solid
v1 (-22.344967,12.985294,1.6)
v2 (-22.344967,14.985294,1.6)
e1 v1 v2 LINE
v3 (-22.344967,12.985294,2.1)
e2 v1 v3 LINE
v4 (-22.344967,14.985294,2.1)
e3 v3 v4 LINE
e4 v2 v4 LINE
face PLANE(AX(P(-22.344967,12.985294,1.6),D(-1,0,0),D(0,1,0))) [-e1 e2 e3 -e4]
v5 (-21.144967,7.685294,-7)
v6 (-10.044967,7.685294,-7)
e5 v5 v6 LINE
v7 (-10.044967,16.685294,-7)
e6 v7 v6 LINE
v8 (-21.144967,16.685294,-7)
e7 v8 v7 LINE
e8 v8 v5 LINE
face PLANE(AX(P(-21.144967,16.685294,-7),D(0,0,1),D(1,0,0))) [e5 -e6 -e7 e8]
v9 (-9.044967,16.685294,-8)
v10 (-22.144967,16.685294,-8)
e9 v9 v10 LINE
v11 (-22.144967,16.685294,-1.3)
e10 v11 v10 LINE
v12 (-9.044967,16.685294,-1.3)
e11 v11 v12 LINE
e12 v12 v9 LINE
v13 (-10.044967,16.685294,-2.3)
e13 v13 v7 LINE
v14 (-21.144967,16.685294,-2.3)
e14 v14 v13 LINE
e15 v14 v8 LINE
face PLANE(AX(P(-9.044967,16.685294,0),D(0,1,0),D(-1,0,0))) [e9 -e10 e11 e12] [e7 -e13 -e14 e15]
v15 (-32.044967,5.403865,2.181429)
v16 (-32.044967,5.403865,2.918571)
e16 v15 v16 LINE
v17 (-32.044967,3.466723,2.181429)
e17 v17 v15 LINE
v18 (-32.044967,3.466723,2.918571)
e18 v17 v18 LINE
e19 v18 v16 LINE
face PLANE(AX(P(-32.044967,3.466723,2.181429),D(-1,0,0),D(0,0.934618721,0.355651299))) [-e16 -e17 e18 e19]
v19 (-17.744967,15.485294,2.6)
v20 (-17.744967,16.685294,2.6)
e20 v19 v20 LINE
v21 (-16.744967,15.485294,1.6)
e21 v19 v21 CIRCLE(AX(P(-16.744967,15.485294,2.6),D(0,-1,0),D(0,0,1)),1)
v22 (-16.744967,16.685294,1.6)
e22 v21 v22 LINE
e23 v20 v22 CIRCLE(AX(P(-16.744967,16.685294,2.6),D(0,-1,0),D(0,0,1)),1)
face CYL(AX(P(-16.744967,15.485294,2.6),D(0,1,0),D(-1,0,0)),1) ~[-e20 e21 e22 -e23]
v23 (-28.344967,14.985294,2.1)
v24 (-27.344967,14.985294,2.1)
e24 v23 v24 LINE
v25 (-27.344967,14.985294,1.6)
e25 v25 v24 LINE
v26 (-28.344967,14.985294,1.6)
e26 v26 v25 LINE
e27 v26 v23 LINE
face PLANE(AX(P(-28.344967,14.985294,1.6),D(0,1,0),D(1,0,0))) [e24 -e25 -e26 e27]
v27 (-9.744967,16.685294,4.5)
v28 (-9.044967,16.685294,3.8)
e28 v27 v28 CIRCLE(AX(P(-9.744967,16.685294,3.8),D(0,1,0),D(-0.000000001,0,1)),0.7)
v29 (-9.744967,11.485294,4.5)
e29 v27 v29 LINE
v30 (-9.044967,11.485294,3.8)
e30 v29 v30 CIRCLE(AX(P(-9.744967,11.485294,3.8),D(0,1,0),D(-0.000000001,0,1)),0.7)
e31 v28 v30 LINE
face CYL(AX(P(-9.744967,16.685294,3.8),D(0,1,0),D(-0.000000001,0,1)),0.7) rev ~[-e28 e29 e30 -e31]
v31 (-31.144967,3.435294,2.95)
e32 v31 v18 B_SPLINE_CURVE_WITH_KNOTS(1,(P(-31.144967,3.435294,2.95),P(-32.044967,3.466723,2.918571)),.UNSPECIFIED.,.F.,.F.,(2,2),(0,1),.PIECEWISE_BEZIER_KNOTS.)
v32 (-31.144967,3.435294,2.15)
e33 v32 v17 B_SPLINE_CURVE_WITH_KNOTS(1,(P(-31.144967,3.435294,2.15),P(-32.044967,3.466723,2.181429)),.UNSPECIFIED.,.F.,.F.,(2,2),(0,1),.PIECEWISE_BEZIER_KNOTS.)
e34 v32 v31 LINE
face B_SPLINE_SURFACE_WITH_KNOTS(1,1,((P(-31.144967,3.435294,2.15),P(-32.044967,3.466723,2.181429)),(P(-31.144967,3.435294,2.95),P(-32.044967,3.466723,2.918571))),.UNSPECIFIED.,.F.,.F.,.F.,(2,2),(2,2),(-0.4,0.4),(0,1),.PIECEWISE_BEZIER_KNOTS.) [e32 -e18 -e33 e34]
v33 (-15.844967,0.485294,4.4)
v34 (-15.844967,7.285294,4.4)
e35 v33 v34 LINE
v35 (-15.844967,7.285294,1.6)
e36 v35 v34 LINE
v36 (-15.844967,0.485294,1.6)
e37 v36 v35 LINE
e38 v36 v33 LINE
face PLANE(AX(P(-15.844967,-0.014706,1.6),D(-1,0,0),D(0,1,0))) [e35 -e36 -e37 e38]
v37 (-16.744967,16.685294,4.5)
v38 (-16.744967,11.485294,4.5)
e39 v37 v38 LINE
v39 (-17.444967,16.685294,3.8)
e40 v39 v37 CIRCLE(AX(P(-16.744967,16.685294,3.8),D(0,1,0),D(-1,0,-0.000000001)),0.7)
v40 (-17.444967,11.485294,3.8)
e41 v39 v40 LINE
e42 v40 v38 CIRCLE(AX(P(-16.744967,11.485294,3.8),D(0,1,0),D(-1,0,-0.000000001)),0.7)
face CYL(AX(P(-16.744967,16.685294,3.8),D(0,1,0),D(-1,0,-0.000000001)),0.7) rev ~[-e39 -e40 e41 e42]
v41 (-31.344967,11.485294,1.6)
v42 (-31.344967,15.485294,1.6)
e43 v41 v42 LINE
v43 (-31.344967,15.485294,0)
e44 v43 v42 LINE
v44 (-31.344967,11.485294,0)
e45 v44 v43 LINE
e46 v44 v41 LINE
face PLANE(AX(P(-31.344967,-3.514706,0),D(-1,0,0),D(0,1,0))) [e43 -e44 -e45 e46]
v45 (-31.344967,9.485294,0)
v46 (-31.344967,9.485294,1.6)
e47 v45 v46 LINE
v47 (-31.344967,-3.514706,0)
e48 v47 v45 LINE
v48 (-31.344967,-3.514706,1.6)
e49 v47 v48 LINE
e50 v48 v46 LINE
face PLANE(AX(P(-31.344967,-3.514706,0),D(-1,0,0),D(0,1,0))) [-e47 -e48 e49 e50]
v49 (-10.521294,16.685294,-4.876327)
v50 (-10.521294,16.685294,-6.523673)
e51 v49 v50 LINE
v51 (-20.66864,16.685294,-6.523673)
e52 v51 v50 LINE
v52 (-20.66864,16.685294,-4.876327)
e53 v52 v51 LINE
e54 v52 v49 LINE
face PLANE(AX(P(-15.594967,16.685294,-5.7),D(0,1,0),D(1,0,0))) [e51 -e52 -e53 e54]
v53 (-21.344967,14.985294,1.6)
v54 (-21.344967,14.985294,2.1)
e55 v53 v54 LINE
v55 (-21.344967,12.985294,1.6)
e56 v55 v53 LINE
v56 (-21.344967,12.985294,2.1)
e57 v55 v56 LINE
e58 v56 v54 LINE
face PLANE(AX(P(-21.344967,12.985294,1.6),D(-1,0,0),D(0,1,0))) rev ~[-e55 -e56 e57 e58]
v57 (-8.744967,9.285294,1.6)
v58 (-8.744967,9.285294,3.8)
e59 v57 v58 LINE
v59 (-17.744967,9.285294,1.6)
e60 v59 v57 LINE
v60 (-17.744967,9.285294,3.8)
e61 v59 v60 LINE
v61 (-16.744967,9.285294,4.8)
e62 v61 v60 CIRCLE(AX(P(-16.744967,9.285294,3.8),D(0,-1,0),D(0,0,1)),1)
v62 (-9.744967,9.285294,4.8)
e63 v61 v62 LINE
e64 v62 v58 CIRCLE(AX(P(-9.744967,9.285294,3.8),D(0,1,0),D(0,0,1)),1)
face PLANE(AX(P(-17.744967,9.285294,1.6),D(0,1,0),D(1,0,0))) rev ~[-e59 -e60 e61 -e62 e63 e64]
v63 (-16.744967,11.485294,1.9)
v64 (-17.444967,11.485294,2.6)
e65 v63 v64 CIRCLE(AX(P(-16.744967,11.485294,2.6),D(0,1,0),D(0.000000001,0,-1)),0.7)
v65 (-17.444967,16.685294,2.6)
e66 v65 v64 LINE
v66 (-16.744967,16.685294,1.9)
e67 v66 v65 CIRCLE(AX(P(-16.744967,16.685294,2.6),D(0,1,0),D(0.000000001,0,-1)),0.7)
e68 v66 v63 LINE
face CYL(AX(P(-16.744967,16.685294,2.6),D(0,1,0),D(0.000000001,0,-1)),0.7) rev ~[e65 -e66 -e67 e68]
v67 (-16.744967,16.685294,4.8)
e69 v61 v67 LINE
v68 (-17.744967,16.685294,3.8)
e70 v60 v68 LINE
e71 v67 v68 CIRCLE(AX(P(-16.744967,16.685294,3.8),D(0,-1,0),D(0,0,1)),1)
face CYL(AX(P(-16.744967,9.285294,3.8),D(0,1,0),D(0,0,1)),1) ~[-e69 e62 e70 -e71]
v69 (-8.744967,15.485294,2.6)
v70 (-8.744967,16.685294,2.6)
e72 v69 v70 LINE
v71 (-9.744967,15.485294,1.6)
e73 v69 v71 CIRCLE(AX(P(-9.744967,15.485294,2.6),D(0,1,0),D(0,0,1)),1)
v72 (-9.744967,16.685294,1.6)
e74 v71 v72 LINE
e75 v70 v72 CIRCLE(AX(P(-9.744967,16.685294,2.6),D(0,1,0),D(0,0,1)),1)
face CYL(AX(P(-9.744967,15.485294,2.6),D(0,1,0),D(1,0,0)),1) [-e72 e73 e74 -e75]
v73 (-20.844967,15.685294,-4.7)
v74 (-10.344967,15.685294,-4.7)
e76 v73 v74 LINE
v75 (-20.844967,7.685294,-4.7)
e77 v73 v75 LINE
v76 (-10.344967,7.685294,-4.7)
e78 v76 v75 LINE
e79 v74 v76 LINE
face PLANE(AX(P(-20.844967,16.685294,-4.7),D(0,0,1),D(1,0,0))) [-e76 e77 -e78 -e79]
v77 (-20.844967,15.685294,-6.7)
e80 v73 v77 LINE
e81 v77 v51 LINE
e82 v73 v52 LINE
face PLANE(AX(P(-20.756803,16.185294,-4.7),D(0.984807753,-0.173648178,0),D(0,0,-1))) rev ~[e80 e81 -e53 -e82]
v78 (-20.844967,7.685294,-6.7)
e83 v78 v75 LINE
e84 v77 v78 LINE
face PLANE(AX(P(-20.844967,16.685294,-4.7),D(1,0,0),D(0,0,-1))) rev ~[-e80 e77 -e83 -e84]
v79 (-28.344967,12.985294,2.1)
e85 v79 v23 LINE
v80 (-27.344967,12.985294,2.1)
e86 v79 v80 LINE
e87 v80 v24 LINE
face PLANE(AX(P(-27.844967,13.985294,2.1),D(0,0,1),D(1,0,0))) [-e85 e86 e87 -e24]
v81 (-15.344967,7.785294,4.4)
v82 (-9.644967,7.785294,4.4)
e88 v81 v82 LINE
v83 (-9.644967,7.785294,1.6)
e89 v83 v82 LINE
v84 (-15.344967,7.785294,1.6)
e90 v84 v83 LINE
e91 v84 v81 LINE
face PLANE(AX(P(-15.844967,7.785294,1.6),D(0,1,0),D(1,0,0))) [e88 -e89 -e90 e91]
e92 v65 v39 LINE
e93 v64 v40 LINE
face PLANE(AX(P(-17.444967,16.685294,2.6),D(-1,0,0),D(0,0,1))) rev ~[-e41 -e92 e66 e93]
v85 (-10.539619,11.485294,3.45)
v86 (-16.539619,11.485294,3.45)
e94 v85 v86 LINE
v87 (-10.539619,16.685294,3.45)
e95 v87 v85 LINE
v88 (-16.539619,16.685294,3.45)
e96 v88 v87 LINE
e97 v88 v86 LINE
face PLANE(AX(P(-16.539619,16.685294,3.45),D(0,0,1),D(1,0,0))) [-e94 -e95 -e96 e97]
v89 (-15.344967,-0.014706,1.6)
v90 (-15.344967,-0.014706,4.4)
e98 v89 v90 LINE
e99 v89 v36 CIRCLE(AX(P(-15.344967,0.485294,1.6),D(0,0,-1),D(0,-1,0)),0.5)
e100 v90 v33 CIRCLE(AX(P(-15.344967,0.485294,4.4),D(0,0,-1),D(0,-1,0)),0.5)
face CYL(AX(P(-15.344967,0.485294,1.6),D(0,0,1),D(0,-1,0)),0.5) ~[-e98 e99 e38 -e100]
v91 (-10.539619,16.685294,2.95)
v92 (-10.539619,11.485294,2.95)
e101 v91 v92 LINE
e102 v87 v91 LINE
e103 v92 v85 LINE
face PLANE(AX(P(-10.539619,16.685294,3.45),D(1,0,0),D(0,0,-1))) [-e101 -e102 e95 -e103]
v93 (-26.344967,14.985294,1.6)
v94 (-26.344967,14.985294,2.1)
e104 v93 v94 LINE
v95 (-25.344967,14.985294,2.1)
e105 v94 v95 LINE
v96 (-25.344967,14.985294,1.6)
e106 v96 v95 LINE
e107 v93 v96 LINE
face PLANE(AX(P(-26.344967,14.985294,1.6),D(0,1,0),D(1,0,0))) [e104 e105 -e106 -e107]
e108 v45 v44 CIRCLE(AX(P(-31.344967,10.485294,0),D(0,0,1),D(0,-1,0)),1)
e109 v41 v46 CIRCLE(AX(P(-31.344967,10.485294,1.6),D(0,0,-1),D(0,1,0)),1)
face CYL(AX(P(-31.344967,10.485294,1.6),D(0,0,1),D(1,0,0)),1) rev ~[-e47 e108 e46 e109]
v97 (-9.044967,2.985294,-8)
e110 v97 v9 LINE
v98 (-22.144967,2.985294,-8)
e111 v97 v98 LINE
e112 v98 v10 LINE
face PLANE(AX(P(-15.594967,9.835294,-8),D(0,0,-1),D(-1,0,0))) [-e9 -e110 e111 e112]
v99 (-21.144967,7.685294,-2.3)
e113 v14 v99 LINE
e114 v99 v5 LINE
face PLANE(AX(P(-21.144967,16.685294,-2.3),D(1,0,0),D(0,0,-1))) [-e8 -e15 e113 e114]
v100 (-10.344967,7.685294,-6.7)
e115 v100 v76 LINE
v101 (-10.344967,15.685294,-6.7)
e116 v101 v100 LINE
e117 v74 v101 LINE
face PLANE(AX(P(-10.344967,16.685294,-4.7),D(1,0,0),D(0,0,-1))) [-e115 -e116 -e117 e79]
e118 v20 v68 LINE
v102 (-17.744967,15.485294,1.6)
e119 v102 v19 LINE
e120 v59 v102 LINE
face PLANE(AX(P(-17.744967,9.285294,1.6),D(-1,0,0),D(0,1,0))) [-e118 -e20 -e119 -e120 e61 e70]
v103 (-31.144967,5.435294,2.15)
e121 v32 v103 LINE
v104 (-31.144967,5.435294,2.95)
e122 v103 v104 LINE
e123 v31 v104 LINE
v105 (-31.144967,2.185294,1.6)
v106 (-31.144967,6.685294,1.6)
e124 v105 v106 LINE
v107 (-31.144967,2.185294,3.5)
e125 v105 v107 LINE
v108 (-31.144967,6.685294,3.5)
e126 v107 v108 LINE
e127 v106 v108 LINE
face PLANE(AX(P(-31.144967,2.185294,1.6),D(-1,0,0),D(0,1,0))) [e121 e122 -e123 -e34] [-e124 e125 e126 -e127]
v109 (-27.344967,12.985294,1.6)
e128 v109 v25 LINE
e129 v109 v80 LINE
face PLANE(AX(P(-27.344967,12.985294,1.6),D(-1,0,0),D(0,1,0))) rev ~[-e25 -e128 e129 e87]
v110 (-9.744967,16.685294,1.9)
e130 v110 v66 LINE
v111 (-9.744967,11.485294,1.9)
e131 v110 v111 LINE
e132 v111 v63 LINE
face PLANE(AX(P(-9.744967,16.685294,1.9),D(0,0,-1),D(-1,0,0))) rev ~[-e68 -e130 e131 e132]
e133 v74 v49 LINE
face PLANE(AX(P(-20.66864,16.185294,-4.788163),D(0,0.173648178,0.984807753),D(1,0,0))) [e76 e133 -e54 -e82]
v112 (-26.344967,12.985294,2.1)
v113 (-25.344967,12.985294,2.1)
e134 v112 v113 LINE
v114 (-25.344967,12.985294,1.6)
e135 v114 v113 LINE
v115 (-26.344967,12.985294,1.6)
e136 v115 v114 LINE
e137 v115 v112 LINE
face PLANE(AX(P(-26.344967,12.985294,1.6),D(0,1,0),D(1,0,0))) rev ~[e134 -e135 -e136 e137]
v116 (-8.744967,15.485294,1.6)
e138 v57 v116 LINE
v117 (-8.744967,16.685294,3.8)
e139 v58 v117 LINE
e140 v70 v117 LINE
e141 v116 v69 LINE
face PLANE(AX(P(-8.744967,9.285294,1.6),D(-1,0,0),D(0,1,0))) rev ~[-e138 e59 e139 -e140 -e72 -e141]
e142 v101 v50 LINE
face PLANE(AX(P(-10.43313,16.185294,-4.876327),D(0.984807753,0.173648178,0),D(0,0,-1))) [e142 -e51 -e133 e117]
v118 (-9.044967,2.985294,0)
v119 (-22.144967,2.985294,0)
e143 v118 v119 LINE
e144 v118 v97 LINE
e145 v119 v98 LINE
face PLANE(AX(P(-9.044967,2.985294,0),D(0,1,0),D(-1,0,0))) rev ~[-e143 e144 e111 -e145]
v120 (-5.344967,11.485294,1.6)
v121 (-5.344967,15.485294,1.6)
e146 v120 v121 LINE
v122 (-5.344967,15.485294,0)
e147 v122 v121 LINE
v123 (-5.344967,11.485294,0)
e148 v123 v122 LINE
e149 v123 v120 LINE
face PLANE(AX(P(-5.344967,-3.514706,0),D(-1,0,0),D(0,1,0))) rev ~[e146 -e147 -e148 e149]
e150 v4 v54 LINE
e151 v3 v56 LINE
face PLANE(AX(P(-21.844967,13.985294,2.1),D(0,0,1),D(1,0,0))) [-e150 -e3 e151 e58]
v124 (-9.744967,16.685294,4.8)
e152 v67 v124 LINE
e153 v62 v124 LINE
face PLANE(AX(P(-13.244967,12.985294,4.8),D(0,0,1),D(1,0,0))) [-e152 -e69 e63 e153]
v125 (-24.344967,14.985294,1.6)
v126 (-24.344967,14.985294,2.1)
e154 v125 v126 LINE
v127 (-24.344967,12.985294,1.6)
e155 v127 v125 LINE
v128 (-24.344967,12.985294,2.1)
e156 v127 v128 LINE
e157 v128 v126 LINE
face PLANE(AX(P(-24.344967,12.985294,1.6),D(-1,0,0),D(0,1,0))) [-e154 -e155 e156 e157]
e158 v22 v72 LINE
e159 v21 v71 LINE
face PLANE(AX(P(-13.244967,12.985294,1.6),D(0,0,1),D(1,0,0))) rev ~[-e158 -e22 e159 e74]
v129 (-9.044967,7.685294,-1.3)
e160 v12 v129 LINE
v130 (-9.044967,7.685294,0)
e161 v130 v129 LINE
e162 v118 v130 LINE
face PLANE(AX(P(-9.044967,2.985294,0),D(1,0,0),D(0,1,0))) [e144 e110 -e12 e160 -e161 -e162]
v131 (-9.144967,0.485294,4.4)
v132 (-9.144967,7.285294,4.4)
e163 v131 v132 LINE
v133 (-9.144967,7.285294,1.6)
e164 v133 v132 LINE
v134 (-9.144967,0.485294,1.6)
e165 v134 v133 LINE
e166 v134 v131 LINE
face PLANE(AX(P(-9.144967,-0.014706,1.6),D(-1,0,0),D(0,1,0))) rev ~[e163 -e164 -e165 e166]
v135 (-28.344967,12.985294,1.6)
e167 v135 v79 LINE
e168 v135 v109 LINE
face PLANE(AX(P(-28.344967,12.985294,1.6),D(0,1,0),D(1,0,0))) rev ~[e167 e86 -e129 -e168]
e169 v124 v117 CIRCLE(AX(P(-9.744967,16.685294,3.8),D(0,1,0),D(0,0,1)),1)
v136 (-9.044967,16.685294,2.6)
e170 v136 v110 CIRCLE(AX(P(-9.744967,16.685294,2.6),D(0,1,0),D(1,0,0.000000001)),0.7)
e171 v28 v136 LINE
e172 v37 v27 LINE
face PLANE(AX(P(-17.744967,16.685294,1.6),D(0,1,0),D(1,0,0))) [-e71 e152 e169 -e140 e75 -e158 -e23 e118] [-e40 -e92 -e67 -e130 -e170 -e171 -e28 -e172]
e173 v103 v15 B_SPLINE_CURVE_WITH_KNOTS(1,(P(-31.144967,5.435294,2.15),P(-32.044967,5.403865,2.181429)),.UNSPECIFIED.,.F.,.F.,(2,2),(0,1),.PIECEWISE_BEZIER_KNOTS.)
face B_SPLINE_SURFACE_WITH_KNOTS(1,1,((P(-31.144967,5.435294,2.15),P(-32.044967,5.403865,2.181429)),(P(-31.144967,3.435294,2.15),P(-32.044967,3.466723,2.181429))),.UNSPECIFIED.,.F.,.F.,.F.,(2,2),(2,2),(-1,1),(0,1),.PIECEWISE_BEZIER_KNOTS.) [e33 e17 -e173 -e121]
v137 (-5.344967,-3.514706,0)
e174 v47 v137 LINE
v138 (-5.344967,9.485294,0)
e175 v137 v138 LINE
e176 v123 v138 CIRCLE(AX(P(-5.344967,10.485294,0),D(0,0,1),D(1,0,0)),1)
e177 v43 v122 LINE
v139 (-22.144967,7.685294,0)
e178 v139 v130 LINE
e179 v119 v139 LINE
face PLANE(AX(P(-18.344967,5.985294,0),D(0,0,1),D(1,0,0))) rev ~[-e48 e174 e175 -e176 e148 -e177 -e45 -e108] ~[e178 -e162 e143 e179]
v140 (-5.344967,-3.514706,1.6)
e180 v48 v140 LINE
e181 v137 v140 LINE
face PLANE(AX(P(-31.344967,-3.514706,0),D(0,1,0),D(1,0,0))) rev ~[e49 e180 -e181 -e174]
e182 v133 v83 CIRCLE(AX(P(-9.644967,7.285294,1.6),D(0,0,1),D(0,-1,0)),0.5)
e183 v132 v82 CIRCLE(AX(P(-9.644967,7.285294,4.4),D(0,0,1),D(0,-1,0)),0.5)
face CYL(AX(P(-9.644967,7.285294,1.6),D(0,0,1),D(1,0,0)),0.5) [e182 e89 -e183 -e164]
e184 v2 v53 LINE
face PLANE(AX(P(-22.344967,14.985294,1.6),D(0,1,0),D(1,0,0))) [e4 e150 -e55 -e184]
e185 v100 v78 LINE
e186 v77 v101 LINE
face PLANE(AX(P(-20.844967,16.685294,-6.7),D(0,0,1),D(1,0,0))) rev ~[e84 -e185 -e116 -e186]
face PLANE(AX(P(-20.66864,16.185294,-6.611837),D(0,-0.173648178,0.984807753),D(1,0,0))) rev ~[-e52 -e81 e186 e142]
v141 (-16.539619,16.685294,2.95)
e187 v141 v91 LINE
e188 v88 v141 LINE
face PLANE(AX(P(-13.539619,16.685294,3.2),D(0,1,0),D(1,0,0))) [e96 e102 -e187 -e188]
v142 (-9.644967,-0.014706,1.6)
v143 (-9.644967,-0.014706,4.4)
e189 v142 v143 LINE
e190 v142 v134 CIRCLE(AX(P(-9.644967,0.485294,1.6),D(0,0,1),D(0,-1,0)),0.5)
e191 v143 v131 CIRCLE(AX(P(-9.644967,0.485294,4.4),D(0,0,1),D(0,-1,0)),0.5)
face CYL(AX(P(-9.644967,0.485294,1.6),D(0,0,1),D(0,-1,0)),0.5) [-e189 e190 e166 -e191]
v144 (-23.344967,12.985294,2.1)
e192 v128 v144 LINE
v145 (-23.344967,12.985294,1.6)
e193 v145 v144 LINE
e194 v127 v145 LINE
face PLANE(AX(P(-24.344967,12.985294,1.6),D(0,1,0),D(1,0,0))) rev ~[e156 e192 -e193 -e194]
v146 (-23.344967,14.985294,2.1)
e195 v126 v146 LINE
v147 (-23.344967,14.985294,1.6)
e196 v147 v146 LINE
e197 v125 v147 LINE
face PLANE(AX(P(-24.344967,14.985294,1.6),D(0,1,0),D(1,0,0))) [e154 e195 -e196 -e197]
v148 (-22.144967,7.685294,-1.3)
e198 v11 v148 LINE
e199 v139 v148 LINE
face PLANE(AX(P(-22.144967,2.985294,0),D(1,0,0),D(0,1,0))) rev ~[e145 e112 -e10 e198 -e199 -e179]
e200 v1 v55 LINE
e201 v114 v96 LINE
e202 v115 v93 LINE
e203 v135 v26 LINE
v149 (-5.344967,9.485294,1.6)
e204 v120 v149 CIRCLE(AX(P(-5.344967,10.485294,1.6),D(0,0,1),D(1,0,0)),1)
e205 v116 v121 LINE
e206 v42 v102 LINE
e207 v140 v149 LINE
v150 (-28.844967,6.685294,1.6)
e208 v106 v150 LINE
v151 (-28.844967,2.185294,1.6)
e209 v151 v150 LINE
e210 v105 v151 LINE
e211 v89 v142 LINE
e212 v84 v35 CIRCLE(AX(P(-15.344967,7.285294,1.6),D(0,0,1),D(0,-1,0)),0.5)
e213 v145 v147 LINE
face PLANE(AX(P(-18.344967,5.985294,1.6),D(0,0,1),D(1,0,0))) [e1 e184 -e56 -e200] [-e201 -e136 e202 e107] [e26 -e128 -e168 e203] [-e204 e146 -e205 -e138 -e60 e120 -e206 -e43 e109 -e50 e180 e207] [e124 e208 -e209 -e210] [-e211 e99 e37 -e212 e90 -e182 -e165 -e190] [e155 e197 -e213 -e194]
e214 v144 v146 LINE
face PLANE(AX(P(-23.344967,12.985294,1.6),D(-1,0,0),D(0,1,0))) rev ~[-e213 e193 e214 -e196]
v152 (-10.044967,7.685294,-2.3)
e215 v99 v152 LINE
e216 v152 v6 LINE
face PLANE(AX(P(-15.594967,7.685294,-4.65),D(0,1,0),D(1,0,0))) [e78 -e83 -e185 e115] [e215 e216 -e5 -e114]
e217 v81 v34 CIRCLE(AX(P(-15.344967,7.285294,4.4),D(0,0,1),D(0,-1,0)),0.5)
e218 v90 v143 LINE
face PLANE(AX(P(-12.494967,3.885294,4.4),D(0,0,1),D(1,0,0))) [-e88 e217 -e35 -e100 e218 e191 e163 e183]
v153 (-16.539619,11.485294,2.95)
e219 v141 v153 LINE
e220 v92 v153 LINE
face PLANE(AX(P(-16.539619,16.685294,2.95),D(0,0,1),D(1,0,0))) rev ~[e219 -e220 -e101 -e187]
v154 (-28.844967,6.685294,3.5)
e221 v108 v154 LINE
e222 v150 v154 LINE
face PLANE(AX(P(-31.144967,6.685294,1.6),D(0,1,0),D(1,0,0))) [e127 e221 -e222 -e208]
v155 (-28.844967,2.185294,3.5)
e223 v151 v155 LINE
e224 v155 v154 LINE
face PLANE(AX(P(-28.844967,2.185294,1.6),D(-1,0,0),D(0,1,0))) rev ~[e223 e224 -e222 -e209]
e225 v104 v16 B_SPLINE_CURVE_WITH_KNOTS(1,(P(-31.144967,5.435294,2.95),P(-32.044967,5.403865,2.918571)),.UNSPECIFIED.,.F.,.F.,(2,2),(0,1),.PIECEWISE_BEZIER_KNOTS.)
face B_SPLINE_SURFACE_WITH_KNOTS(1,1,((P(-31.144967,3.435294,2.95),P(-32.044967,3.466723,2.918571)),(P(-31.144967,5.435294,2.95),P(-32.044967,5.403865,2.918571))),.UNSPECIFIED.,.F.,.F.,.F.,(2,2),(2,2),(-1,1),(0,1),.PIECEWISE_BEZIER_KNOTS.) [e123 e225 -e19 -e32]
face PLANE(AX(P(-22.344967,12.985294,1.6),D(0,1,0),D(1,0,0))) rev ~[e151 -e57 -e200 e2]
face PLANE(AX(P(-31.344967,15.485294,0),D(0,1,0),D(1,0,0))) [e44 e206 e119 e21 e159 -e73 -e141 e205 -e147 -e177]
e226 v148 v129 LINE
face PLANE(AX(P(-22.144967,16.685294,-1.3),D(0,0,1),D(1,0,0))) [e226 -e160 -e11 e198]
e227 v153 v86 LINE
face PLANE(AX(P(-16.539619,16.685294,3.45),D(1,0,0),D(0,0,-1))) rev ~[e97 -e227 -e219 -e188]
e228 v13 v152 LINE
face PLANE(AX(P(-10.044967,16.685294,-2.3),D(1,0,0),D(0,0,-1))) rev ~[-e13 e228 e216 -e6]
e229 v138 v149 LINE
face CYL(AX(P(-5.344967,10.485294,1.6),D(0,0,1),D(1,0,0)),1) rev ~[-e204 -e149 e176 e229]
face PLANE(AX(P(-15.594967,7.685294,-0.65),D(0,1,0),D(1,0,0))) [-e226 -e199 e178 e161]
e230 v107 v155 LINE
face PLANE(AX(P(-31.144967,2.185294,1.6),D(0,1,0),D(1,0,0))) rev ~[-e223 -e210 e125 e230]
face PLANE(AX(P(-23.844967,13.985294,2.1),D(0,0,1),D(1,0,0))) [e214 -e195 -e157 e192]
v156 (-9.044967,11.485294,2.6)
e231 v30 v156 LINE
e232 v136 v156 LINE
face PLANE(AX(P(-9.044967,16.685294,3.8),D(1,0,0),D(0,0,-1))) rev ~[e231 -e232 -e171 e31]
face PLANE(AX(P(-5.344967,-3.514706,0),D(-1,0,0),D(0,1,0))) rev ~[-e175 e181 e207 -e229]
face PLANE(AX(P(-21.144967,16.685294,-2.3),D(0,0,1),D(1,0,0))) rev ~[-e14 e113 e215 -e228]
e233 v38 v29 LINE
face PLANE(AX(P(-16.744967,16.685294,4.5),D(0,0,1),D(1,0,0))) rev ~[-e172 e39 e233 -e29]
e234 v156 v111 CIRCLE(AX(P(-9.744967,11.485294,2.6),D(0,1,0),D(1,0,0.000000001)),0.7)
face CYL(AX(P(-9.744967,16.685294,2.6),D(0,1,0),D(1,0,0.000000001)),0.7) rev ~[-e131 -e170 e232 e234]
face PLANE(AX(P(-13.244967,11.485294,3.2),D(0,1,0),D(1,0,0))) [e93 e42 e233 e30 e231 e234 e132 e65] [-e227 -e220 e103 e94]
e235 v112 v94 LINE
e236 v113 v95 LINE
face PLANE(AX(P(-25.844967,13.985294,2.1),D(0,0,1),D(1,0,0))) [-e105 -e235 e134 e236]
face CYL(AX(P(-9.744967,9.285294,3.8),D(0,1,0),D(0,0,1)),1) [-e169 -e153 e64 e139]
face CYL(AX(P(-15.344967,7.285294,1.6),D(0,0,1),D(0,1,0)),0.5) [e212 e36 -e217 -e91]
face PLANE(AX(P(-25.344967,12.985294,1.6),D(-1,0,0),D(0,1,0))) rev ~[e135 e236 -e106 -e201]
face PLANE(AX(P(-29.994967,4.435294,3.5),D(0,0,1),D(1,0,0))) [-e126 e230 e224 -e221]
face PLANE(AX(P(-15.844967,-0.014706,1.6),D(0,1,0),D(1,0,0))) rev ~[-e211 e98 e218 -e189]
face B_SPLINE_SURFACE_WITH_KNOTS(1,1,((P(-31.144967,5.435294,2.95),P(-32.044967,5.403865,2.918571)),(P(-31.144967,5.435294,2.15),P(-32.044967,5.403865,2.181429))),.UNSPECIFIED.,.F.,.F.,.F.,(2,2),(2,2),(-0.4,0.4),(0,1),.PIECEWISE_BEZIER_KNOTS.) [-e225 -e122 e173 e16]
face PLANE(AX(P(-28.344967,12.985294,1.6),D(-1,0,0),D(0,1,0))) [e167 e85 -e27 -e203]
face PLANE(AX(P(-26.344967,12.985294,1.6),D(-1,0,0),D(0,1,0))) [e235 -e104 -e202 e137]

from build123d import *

# Parameters (mm, degrees)
ESBO_O1_W                = 26
ESBO_O1_H                = 19
RESSALTO_EXTRUS_O1_DEPTH = 1.6
ESBO_O2_W                = 1
ESBO_O2_H                = 2
RESSALTO_EXTRUS_O2_DEPTH = 0.5
ESBO_O3_W                = 9
ESBO_O3_H                = 7.4
RESSALTO_EXTRUS_O3_DEPTH = 3.2
FILETE1_R                = 1
FILETE7_R                = 1
CORTE_EXTRUS_O1_DEPTH    = 5.2
RESSALTO_EXTRUS_O4_REACH = 22.2
ESBO_O5_W                = 6
ESBO_O5_H                = 0.5
ESBO_O6_W                = 6.7
ESBO_O6_H                = 7.8
RESSALTO_EXTRUS_O5_DEPTH = 2.8
FILETE8_R                = 0.5
ESBO_O7_W                = 2.3
ESBO_O7_H                = 4.5
RESSALTO_EXTRUS_O6_DEPTH = 1.9
ESBO_O8_W                = 0.8
ESBO_O8_H                = 2
RESSALTO_EXTRUS_O7_DEPTH = 0.9
RESSALTO_EXTRUS_O7_TAPER = 2
ESBO_O9_W                = 13.1
ESBO_O9_H                = 13.7
RESSALTO_EXTRUS_O8_DEPTH = 8
ESBO_O10_W               = 13.1
ESBO_O10_H               = 1.3
CORTE_EXTRUS_O2_DEPTH    = 9
ESBO_O11_W               = 11.1
ESBO_O11_H               = 4.7
CORTE_EXTRUS_O3_DEPTH    = 9
RESSALTO_EXTRUS_O9_REACH = 22.2
ESBO_O12_W               = 10.5
ESBO_O12_H               = 2
CHANFRO1_SIZE            = 1
CHANFRO1_SIZE2           = 0.176326981
CHANFRO1_PART_2_SIZE     = 1
CHANFRO1_PART_2_SIZE2    = 0.176326981
CHANFRO1_PART_3_SIZE     = 1
CHANFRO1_PART_3_SIZE2    = 0.176326981
CHANFRO1_PART_4_SIZE     = 1
CHANFRO1_PART_4_SIZE2    = 0.176326981
CORTE_EXTRUS_O4_REACH    = 11.6
ESBO_O13_R               = 1


with BuildPart() as part:
    # Esboço1 → Ressalto-extrusão1 (new body)
    with BuildSketch(Plane.XY):
        with Locations((-18.344966746, 5.985294118)):
            Rectangle(ESBO_O1_W, ESBO_O1_H)
    extrude(amount=RESSALTO_EXTRUS_O1_DEPTH)

    # Esboço2 → Ressalto-extrusão2 (add)
    with BuildSketch(Plane.XY.offset(1.6)):
        with Locations((-27.844966746, 13.985294118)):
            Rectangle(ESBO_O2_W, ESBO_O2_H)
        with Locations((-25.844966746, 13.985294118)):
            Rectangle(ESBO_O2_W, ESBO_O2_H)
        with Locations((-23.844966746, 13.985294118)):
            Rectangle(ESBO_O2_W, ESBO_O2_H)
        with Locations((-21.844966746, 13.985294118)):
            Rectangle(ESBO_O2_W, ESBO_O2_H)
    extrude(amount=RESSALTO_EXTRUS_O2_DEPTH)

    # Esboço3 → Ressalto-extrusão3 (add)
    with BuildSketch(Plane.XY.offset(1.6)):
        with Locations((-13.244966746, 12.985294118)):
            Rectangle(ESBO_O3_W, ESBO_O3_H)
    extrude(amount=RESSALTO_EXTRUS_O3_DEPTH)

    # Filete1
    filete1_edges = [part.edges().sort_by_distance(p)[0] for p in [
        (-8.744966746, 12.985294118, 4.8),
    ]]
    fillet(filete1_edges, radius=FILETE1_R)

    # Filete7
    filete7_edges = [part.edges().sort_by_distance(p)[0] for p in [
        (-17.744966746, 16.085294118, 1.6),
        (-8.744966746, 16.085294118, 1.6),
        (-17.744966746, 12.985294118, 4.8),
    ]]
    fillet(filete7_edges, radius=FILETE7_R)

    # Esboço4 → Corte-extrusão1 (cut)
    with BuildSketch(Plane(origin=(0, 16.685294118, 0), x_dir=(1, 0, 0), z_dir=(0, 1, 0))):
        with BuildLine():
            Line((-9.744966746, -1.9), (-16.744966746, -1.9))
            ThreePointArc((-16.744966746, -1.9), (-17.239941493, -2.105025253), (-17.444966746, -2.6))
            Line((-17.444966746, -2.6), (-17.444966746, -3.8))
            ThreePointArc((-17.444966746, -3.8), (-17.239941493, -4.294974747), (-16.744966746, -4.5))
            Line((-16.744966746, -4.5), (-9.744966746, -4.5))
            ThreePointArc((-9.744966746, -4.5), (-9.249991999, -4.294974747), (-9.044966746, -3.8))
            Line((-9.044966746, -3.8), (-9.044966746, -2.6))
            ThreePointArc((-9.044966746, -2.6), (-9.249991999, -2.105025253), (-9.744966746, -1.9))
        make_face()
    extrude(amount=-CORTE_EXTRUS_O1_DEPTH, mode=Mode.SUBTRACT)

    # Esboço5 → Ressalto-extrusão4 (add, up to next)
    with BuildSketch(Plane(origin=(0, 16.685294118, 0), x_dir=(1, 0, 0), z_dir=(0, 1, 0)), mode=Mode.PRIVATE) as ressalto_extrus_o4_sk1:
        with Locations((-13.539619271, -3.2)):
            Rectangle(ESBO_O5_W, ESBO_O5_H)
    ressalto_extrus_o4_tool1 = extrude(ressalto_extrus_o4_sk1.sketch, amount=-RESSALTO_EXTRUS_O4_REACH, mode=Mode.PRIVATE) - part.part
    add(ressalto_extrus_o4_tool1.solids().sort_by_distance((-13.539619, 16.685294, 3.2))[0])

    # Esboço6 → Ressalto-extrusão5 (add)
    with BuildSketch(Plane.XY.offset(1.6)):
        with Locations((-12.494966746, 3.885294118)):
            Rectangle(ESBO_O6_W, ESBO_O6_H)
    extrude(amount=RESSALTO_EXTRUS_O5_DEPTH)

    # Filete8
    filete8_edges = [part.edges().sort_by_distance(p)[0] for p in [
        (-15.844966746, 7.785294118, 3),
        (-15.844966746, -0.014705882, 3),
        (-9.144966746, -0.014705882, 3),
        (-9.144966746, 7.785294118, 3),
    ]]
    fillet(filete8_edges, radius=FILETE8_R)

    # Esboço7 → Ressalto-extrusão6 (add)
    with BuildSketch(Plane.XY.offset(1.6)):
        with Locations((-29.994966746, 4.435294118)):
            Rectangle(ESBO_O7_W, ESBO_O7_H)
    extrude(amount=RESSALTO_EXTRUS_O6_DEPTH)

    # Esboço8 → Ressalto-extrusão7 (add)
    with BuildSketch(Plane.ZY.offset(31.144966746)):
        with Locations((2.55, 4.435294118)):
            Rectangle(ESBO_O8_W, ESBO_O8_H)
    extrude(amount=RESSALTO_EXTRUS_O7_DEPTH, taper=RESSALTO_EXTRUS_O7_TAPER)

    # Esboço9 → Ressalto-extrusão8 (add)
    with BuildSketch(Plane(origin=(0, 0, 0), x_dir=(-1, 0, 0), z_dir=(0, 0, -1))):
        with Locations((15.594966746, 9.835294118)):
            Rectangle(ESBO_O9_W, ESBO_O9_H)
    extrude(amount=RESSALTO_EXTRUS_O8_DEPTH)

    # Esboço10 → Corte-extrusão2 (cut)
    with BuildSketch(Plane(origin=(0, 16.685294118, 0), x_dir=(1, 0, 0), z_dir=(0, 1, 0))):
        with Locations((-15.594966746, 0.65)):
            Rectangle(ESBO_O10_W, ESBO_O10_H)
    extrude(amount=-CORTE_EXTRUS_O2_DEPTH, mode=Mode.SUBTRACT)

    # Esboço11 → Corte-extrusão3 (cut)
    with BuildSketch(Plane(origin=(0, 16.685294118, 0), x_dir=(1, 0, 0), z_dir=(0, 1, 0))):
        with Locations((-15.594966746, 4.65)):
            Rectangle(ESBO_O11_W, ESBO_O11_H)
    extrude(amount=-CORTE_EXTRUS_O3_DEPTH, mode=Mode.SUBTRACT)

    # Esboço12 → Ressalto-extrusão9 (add, up to next)
    with BuildSketch(Plane(origin=(0, 16.685294118, 0), x_dir=(1, 0, 0), z_dir=(0, 1, 0)), mode=Mode.PRIVATE) as ressalto_extrus_o9_sk1:
        with Locations((-15.594966746, 5.7)):
            Rectangle(ESBO_O12_W, ESBO_O12_H)
    ressalto_extrus_o9_tool1 = extrude(ressalto_extrus_o9_sk1.sketch, amount=-RESSALTO_EXTRUS_O9_REACH, mode=Mode.PRIVATE) - part.part
    add(ressalto_extrus_o9_tool1.solids().sort_by_distance((-15.594967, 16.685294, -5.7))[0])

    # Chanfro1
    chanfro1_edges = [part.edges().sort_by_distance(p)[0] for p in [
        (-20.844966746, 16.685294118, -5.7),
    ]]
    chanfro1_side = [part.faces().sort_by_distance(p)[0] for p in [
        (-20.844966746, 12.185294118, -5.7),
    ]]
    chamfer(chanfro1_edges, length=CHANFRO1_SIZE, length2=CHANFRO1_SIZE2, reference=chanfro1_side[0])

    # Chanfro1 part 2
    chanfro1_part_2_edges = [part.edges().sort_by_distance(p)[0] for p in [
        (-15.594966746, 16.685294118, -4.7),
    ]]
    chanfro1_part_2_side = [part.faces().sort_by_distance(p)[0] for p in [
        (-15.594966746, 12.185294118, -4.7),
    ]]
    chamfer(chanfro1_part_2_edges, length=CHANFRO1_PART_2_SIZE, length2=CHANFRO1_PART_2_SIZE2, reference=chanfro1_part_2_side[0])

    # Chanfro1 part 3
    chanfro1_part_3_edges = [part.edges().sort_by_distance(p)[0] for p in [
        (-10.344966746, 16.685294118, -5.7),
    ]]
    chanfro1_part_3_side = [part.faces().sort_by_distance(p)[0] for p in [
        (-10.344966746, 12.185294118, -5.7),
    ]]
    chamfer(chanfro1_part_3_edges, length=CHANFRO1_PART_3_SIZE, length2=CHANFRO1_PART_3_SIZE2, reference=chanfro1_part_3_side[0])

    # Chanfro1 part 4
    chanfro1_part_4_edges = [part.edges().sort_by_distance(p)[0] for p in [
        (-15.594966746, 16.685294118, -6.7),
    ]]
    chanfro1_part_4_side = [part.faces().sort_by_distance(p)[0] for p in [
        (-15.594966746, 12.185294118, -6.7),
    ]]
    chamfer(chanfro1_part_4_edges, length=CHANFRO1_PART_4_SIZE, length2=CHANFRO1_PART_4_SIZE2, reference=chanfro1_part_4_side[0])

    # Esboço13 → Corte-extrusão4 (cut, up to next)
    with BuildSketch(Plane.XY.offset(1.6), mode=Mode.PRIVATE) as corte_extrus_o4_sk1:
        with Locations((-31.344966746, 10.485294118)):
            Circle(ESBO_O13_R)
    corte_extrus_o4_tool1 = extrude(corte_extrus_o4_sk1.sketch, amount=-CORTE_EXTRUS_O4_REACH, mode=Mode.PRIVATE) & part.part
    add(corte_extrus_o4_tool1.solids().sort_by_distance((-31.344967, 10.485294, 1.6))[0], mode=Mode.SUBTRACT)
    # Esboço13 → Corte-extrusão4 (cut, up to next)
    with BuildSketch(Plane.XY.offset(1.6), mode=Mode.PRIVATE) as corte_extrus_o4_sk2:
        with Locations((-5.344966746, 10.485294118)):
            Circle(ESBO_O13_R)
    corte_extrus_o4_tool2 = extrude(corte_extrus_o4_sk2.sketch, amount=-CORTE_EXTRUS_O4_REACH, mode=Mode.PRIVATE) & part.part
    add(corte_extrus_o4_tool2.solids().sort_by_distance((-5.344967, 10.485294, 1.6))[0], mode=Mode.SUBTRACT)


solid = part.part
